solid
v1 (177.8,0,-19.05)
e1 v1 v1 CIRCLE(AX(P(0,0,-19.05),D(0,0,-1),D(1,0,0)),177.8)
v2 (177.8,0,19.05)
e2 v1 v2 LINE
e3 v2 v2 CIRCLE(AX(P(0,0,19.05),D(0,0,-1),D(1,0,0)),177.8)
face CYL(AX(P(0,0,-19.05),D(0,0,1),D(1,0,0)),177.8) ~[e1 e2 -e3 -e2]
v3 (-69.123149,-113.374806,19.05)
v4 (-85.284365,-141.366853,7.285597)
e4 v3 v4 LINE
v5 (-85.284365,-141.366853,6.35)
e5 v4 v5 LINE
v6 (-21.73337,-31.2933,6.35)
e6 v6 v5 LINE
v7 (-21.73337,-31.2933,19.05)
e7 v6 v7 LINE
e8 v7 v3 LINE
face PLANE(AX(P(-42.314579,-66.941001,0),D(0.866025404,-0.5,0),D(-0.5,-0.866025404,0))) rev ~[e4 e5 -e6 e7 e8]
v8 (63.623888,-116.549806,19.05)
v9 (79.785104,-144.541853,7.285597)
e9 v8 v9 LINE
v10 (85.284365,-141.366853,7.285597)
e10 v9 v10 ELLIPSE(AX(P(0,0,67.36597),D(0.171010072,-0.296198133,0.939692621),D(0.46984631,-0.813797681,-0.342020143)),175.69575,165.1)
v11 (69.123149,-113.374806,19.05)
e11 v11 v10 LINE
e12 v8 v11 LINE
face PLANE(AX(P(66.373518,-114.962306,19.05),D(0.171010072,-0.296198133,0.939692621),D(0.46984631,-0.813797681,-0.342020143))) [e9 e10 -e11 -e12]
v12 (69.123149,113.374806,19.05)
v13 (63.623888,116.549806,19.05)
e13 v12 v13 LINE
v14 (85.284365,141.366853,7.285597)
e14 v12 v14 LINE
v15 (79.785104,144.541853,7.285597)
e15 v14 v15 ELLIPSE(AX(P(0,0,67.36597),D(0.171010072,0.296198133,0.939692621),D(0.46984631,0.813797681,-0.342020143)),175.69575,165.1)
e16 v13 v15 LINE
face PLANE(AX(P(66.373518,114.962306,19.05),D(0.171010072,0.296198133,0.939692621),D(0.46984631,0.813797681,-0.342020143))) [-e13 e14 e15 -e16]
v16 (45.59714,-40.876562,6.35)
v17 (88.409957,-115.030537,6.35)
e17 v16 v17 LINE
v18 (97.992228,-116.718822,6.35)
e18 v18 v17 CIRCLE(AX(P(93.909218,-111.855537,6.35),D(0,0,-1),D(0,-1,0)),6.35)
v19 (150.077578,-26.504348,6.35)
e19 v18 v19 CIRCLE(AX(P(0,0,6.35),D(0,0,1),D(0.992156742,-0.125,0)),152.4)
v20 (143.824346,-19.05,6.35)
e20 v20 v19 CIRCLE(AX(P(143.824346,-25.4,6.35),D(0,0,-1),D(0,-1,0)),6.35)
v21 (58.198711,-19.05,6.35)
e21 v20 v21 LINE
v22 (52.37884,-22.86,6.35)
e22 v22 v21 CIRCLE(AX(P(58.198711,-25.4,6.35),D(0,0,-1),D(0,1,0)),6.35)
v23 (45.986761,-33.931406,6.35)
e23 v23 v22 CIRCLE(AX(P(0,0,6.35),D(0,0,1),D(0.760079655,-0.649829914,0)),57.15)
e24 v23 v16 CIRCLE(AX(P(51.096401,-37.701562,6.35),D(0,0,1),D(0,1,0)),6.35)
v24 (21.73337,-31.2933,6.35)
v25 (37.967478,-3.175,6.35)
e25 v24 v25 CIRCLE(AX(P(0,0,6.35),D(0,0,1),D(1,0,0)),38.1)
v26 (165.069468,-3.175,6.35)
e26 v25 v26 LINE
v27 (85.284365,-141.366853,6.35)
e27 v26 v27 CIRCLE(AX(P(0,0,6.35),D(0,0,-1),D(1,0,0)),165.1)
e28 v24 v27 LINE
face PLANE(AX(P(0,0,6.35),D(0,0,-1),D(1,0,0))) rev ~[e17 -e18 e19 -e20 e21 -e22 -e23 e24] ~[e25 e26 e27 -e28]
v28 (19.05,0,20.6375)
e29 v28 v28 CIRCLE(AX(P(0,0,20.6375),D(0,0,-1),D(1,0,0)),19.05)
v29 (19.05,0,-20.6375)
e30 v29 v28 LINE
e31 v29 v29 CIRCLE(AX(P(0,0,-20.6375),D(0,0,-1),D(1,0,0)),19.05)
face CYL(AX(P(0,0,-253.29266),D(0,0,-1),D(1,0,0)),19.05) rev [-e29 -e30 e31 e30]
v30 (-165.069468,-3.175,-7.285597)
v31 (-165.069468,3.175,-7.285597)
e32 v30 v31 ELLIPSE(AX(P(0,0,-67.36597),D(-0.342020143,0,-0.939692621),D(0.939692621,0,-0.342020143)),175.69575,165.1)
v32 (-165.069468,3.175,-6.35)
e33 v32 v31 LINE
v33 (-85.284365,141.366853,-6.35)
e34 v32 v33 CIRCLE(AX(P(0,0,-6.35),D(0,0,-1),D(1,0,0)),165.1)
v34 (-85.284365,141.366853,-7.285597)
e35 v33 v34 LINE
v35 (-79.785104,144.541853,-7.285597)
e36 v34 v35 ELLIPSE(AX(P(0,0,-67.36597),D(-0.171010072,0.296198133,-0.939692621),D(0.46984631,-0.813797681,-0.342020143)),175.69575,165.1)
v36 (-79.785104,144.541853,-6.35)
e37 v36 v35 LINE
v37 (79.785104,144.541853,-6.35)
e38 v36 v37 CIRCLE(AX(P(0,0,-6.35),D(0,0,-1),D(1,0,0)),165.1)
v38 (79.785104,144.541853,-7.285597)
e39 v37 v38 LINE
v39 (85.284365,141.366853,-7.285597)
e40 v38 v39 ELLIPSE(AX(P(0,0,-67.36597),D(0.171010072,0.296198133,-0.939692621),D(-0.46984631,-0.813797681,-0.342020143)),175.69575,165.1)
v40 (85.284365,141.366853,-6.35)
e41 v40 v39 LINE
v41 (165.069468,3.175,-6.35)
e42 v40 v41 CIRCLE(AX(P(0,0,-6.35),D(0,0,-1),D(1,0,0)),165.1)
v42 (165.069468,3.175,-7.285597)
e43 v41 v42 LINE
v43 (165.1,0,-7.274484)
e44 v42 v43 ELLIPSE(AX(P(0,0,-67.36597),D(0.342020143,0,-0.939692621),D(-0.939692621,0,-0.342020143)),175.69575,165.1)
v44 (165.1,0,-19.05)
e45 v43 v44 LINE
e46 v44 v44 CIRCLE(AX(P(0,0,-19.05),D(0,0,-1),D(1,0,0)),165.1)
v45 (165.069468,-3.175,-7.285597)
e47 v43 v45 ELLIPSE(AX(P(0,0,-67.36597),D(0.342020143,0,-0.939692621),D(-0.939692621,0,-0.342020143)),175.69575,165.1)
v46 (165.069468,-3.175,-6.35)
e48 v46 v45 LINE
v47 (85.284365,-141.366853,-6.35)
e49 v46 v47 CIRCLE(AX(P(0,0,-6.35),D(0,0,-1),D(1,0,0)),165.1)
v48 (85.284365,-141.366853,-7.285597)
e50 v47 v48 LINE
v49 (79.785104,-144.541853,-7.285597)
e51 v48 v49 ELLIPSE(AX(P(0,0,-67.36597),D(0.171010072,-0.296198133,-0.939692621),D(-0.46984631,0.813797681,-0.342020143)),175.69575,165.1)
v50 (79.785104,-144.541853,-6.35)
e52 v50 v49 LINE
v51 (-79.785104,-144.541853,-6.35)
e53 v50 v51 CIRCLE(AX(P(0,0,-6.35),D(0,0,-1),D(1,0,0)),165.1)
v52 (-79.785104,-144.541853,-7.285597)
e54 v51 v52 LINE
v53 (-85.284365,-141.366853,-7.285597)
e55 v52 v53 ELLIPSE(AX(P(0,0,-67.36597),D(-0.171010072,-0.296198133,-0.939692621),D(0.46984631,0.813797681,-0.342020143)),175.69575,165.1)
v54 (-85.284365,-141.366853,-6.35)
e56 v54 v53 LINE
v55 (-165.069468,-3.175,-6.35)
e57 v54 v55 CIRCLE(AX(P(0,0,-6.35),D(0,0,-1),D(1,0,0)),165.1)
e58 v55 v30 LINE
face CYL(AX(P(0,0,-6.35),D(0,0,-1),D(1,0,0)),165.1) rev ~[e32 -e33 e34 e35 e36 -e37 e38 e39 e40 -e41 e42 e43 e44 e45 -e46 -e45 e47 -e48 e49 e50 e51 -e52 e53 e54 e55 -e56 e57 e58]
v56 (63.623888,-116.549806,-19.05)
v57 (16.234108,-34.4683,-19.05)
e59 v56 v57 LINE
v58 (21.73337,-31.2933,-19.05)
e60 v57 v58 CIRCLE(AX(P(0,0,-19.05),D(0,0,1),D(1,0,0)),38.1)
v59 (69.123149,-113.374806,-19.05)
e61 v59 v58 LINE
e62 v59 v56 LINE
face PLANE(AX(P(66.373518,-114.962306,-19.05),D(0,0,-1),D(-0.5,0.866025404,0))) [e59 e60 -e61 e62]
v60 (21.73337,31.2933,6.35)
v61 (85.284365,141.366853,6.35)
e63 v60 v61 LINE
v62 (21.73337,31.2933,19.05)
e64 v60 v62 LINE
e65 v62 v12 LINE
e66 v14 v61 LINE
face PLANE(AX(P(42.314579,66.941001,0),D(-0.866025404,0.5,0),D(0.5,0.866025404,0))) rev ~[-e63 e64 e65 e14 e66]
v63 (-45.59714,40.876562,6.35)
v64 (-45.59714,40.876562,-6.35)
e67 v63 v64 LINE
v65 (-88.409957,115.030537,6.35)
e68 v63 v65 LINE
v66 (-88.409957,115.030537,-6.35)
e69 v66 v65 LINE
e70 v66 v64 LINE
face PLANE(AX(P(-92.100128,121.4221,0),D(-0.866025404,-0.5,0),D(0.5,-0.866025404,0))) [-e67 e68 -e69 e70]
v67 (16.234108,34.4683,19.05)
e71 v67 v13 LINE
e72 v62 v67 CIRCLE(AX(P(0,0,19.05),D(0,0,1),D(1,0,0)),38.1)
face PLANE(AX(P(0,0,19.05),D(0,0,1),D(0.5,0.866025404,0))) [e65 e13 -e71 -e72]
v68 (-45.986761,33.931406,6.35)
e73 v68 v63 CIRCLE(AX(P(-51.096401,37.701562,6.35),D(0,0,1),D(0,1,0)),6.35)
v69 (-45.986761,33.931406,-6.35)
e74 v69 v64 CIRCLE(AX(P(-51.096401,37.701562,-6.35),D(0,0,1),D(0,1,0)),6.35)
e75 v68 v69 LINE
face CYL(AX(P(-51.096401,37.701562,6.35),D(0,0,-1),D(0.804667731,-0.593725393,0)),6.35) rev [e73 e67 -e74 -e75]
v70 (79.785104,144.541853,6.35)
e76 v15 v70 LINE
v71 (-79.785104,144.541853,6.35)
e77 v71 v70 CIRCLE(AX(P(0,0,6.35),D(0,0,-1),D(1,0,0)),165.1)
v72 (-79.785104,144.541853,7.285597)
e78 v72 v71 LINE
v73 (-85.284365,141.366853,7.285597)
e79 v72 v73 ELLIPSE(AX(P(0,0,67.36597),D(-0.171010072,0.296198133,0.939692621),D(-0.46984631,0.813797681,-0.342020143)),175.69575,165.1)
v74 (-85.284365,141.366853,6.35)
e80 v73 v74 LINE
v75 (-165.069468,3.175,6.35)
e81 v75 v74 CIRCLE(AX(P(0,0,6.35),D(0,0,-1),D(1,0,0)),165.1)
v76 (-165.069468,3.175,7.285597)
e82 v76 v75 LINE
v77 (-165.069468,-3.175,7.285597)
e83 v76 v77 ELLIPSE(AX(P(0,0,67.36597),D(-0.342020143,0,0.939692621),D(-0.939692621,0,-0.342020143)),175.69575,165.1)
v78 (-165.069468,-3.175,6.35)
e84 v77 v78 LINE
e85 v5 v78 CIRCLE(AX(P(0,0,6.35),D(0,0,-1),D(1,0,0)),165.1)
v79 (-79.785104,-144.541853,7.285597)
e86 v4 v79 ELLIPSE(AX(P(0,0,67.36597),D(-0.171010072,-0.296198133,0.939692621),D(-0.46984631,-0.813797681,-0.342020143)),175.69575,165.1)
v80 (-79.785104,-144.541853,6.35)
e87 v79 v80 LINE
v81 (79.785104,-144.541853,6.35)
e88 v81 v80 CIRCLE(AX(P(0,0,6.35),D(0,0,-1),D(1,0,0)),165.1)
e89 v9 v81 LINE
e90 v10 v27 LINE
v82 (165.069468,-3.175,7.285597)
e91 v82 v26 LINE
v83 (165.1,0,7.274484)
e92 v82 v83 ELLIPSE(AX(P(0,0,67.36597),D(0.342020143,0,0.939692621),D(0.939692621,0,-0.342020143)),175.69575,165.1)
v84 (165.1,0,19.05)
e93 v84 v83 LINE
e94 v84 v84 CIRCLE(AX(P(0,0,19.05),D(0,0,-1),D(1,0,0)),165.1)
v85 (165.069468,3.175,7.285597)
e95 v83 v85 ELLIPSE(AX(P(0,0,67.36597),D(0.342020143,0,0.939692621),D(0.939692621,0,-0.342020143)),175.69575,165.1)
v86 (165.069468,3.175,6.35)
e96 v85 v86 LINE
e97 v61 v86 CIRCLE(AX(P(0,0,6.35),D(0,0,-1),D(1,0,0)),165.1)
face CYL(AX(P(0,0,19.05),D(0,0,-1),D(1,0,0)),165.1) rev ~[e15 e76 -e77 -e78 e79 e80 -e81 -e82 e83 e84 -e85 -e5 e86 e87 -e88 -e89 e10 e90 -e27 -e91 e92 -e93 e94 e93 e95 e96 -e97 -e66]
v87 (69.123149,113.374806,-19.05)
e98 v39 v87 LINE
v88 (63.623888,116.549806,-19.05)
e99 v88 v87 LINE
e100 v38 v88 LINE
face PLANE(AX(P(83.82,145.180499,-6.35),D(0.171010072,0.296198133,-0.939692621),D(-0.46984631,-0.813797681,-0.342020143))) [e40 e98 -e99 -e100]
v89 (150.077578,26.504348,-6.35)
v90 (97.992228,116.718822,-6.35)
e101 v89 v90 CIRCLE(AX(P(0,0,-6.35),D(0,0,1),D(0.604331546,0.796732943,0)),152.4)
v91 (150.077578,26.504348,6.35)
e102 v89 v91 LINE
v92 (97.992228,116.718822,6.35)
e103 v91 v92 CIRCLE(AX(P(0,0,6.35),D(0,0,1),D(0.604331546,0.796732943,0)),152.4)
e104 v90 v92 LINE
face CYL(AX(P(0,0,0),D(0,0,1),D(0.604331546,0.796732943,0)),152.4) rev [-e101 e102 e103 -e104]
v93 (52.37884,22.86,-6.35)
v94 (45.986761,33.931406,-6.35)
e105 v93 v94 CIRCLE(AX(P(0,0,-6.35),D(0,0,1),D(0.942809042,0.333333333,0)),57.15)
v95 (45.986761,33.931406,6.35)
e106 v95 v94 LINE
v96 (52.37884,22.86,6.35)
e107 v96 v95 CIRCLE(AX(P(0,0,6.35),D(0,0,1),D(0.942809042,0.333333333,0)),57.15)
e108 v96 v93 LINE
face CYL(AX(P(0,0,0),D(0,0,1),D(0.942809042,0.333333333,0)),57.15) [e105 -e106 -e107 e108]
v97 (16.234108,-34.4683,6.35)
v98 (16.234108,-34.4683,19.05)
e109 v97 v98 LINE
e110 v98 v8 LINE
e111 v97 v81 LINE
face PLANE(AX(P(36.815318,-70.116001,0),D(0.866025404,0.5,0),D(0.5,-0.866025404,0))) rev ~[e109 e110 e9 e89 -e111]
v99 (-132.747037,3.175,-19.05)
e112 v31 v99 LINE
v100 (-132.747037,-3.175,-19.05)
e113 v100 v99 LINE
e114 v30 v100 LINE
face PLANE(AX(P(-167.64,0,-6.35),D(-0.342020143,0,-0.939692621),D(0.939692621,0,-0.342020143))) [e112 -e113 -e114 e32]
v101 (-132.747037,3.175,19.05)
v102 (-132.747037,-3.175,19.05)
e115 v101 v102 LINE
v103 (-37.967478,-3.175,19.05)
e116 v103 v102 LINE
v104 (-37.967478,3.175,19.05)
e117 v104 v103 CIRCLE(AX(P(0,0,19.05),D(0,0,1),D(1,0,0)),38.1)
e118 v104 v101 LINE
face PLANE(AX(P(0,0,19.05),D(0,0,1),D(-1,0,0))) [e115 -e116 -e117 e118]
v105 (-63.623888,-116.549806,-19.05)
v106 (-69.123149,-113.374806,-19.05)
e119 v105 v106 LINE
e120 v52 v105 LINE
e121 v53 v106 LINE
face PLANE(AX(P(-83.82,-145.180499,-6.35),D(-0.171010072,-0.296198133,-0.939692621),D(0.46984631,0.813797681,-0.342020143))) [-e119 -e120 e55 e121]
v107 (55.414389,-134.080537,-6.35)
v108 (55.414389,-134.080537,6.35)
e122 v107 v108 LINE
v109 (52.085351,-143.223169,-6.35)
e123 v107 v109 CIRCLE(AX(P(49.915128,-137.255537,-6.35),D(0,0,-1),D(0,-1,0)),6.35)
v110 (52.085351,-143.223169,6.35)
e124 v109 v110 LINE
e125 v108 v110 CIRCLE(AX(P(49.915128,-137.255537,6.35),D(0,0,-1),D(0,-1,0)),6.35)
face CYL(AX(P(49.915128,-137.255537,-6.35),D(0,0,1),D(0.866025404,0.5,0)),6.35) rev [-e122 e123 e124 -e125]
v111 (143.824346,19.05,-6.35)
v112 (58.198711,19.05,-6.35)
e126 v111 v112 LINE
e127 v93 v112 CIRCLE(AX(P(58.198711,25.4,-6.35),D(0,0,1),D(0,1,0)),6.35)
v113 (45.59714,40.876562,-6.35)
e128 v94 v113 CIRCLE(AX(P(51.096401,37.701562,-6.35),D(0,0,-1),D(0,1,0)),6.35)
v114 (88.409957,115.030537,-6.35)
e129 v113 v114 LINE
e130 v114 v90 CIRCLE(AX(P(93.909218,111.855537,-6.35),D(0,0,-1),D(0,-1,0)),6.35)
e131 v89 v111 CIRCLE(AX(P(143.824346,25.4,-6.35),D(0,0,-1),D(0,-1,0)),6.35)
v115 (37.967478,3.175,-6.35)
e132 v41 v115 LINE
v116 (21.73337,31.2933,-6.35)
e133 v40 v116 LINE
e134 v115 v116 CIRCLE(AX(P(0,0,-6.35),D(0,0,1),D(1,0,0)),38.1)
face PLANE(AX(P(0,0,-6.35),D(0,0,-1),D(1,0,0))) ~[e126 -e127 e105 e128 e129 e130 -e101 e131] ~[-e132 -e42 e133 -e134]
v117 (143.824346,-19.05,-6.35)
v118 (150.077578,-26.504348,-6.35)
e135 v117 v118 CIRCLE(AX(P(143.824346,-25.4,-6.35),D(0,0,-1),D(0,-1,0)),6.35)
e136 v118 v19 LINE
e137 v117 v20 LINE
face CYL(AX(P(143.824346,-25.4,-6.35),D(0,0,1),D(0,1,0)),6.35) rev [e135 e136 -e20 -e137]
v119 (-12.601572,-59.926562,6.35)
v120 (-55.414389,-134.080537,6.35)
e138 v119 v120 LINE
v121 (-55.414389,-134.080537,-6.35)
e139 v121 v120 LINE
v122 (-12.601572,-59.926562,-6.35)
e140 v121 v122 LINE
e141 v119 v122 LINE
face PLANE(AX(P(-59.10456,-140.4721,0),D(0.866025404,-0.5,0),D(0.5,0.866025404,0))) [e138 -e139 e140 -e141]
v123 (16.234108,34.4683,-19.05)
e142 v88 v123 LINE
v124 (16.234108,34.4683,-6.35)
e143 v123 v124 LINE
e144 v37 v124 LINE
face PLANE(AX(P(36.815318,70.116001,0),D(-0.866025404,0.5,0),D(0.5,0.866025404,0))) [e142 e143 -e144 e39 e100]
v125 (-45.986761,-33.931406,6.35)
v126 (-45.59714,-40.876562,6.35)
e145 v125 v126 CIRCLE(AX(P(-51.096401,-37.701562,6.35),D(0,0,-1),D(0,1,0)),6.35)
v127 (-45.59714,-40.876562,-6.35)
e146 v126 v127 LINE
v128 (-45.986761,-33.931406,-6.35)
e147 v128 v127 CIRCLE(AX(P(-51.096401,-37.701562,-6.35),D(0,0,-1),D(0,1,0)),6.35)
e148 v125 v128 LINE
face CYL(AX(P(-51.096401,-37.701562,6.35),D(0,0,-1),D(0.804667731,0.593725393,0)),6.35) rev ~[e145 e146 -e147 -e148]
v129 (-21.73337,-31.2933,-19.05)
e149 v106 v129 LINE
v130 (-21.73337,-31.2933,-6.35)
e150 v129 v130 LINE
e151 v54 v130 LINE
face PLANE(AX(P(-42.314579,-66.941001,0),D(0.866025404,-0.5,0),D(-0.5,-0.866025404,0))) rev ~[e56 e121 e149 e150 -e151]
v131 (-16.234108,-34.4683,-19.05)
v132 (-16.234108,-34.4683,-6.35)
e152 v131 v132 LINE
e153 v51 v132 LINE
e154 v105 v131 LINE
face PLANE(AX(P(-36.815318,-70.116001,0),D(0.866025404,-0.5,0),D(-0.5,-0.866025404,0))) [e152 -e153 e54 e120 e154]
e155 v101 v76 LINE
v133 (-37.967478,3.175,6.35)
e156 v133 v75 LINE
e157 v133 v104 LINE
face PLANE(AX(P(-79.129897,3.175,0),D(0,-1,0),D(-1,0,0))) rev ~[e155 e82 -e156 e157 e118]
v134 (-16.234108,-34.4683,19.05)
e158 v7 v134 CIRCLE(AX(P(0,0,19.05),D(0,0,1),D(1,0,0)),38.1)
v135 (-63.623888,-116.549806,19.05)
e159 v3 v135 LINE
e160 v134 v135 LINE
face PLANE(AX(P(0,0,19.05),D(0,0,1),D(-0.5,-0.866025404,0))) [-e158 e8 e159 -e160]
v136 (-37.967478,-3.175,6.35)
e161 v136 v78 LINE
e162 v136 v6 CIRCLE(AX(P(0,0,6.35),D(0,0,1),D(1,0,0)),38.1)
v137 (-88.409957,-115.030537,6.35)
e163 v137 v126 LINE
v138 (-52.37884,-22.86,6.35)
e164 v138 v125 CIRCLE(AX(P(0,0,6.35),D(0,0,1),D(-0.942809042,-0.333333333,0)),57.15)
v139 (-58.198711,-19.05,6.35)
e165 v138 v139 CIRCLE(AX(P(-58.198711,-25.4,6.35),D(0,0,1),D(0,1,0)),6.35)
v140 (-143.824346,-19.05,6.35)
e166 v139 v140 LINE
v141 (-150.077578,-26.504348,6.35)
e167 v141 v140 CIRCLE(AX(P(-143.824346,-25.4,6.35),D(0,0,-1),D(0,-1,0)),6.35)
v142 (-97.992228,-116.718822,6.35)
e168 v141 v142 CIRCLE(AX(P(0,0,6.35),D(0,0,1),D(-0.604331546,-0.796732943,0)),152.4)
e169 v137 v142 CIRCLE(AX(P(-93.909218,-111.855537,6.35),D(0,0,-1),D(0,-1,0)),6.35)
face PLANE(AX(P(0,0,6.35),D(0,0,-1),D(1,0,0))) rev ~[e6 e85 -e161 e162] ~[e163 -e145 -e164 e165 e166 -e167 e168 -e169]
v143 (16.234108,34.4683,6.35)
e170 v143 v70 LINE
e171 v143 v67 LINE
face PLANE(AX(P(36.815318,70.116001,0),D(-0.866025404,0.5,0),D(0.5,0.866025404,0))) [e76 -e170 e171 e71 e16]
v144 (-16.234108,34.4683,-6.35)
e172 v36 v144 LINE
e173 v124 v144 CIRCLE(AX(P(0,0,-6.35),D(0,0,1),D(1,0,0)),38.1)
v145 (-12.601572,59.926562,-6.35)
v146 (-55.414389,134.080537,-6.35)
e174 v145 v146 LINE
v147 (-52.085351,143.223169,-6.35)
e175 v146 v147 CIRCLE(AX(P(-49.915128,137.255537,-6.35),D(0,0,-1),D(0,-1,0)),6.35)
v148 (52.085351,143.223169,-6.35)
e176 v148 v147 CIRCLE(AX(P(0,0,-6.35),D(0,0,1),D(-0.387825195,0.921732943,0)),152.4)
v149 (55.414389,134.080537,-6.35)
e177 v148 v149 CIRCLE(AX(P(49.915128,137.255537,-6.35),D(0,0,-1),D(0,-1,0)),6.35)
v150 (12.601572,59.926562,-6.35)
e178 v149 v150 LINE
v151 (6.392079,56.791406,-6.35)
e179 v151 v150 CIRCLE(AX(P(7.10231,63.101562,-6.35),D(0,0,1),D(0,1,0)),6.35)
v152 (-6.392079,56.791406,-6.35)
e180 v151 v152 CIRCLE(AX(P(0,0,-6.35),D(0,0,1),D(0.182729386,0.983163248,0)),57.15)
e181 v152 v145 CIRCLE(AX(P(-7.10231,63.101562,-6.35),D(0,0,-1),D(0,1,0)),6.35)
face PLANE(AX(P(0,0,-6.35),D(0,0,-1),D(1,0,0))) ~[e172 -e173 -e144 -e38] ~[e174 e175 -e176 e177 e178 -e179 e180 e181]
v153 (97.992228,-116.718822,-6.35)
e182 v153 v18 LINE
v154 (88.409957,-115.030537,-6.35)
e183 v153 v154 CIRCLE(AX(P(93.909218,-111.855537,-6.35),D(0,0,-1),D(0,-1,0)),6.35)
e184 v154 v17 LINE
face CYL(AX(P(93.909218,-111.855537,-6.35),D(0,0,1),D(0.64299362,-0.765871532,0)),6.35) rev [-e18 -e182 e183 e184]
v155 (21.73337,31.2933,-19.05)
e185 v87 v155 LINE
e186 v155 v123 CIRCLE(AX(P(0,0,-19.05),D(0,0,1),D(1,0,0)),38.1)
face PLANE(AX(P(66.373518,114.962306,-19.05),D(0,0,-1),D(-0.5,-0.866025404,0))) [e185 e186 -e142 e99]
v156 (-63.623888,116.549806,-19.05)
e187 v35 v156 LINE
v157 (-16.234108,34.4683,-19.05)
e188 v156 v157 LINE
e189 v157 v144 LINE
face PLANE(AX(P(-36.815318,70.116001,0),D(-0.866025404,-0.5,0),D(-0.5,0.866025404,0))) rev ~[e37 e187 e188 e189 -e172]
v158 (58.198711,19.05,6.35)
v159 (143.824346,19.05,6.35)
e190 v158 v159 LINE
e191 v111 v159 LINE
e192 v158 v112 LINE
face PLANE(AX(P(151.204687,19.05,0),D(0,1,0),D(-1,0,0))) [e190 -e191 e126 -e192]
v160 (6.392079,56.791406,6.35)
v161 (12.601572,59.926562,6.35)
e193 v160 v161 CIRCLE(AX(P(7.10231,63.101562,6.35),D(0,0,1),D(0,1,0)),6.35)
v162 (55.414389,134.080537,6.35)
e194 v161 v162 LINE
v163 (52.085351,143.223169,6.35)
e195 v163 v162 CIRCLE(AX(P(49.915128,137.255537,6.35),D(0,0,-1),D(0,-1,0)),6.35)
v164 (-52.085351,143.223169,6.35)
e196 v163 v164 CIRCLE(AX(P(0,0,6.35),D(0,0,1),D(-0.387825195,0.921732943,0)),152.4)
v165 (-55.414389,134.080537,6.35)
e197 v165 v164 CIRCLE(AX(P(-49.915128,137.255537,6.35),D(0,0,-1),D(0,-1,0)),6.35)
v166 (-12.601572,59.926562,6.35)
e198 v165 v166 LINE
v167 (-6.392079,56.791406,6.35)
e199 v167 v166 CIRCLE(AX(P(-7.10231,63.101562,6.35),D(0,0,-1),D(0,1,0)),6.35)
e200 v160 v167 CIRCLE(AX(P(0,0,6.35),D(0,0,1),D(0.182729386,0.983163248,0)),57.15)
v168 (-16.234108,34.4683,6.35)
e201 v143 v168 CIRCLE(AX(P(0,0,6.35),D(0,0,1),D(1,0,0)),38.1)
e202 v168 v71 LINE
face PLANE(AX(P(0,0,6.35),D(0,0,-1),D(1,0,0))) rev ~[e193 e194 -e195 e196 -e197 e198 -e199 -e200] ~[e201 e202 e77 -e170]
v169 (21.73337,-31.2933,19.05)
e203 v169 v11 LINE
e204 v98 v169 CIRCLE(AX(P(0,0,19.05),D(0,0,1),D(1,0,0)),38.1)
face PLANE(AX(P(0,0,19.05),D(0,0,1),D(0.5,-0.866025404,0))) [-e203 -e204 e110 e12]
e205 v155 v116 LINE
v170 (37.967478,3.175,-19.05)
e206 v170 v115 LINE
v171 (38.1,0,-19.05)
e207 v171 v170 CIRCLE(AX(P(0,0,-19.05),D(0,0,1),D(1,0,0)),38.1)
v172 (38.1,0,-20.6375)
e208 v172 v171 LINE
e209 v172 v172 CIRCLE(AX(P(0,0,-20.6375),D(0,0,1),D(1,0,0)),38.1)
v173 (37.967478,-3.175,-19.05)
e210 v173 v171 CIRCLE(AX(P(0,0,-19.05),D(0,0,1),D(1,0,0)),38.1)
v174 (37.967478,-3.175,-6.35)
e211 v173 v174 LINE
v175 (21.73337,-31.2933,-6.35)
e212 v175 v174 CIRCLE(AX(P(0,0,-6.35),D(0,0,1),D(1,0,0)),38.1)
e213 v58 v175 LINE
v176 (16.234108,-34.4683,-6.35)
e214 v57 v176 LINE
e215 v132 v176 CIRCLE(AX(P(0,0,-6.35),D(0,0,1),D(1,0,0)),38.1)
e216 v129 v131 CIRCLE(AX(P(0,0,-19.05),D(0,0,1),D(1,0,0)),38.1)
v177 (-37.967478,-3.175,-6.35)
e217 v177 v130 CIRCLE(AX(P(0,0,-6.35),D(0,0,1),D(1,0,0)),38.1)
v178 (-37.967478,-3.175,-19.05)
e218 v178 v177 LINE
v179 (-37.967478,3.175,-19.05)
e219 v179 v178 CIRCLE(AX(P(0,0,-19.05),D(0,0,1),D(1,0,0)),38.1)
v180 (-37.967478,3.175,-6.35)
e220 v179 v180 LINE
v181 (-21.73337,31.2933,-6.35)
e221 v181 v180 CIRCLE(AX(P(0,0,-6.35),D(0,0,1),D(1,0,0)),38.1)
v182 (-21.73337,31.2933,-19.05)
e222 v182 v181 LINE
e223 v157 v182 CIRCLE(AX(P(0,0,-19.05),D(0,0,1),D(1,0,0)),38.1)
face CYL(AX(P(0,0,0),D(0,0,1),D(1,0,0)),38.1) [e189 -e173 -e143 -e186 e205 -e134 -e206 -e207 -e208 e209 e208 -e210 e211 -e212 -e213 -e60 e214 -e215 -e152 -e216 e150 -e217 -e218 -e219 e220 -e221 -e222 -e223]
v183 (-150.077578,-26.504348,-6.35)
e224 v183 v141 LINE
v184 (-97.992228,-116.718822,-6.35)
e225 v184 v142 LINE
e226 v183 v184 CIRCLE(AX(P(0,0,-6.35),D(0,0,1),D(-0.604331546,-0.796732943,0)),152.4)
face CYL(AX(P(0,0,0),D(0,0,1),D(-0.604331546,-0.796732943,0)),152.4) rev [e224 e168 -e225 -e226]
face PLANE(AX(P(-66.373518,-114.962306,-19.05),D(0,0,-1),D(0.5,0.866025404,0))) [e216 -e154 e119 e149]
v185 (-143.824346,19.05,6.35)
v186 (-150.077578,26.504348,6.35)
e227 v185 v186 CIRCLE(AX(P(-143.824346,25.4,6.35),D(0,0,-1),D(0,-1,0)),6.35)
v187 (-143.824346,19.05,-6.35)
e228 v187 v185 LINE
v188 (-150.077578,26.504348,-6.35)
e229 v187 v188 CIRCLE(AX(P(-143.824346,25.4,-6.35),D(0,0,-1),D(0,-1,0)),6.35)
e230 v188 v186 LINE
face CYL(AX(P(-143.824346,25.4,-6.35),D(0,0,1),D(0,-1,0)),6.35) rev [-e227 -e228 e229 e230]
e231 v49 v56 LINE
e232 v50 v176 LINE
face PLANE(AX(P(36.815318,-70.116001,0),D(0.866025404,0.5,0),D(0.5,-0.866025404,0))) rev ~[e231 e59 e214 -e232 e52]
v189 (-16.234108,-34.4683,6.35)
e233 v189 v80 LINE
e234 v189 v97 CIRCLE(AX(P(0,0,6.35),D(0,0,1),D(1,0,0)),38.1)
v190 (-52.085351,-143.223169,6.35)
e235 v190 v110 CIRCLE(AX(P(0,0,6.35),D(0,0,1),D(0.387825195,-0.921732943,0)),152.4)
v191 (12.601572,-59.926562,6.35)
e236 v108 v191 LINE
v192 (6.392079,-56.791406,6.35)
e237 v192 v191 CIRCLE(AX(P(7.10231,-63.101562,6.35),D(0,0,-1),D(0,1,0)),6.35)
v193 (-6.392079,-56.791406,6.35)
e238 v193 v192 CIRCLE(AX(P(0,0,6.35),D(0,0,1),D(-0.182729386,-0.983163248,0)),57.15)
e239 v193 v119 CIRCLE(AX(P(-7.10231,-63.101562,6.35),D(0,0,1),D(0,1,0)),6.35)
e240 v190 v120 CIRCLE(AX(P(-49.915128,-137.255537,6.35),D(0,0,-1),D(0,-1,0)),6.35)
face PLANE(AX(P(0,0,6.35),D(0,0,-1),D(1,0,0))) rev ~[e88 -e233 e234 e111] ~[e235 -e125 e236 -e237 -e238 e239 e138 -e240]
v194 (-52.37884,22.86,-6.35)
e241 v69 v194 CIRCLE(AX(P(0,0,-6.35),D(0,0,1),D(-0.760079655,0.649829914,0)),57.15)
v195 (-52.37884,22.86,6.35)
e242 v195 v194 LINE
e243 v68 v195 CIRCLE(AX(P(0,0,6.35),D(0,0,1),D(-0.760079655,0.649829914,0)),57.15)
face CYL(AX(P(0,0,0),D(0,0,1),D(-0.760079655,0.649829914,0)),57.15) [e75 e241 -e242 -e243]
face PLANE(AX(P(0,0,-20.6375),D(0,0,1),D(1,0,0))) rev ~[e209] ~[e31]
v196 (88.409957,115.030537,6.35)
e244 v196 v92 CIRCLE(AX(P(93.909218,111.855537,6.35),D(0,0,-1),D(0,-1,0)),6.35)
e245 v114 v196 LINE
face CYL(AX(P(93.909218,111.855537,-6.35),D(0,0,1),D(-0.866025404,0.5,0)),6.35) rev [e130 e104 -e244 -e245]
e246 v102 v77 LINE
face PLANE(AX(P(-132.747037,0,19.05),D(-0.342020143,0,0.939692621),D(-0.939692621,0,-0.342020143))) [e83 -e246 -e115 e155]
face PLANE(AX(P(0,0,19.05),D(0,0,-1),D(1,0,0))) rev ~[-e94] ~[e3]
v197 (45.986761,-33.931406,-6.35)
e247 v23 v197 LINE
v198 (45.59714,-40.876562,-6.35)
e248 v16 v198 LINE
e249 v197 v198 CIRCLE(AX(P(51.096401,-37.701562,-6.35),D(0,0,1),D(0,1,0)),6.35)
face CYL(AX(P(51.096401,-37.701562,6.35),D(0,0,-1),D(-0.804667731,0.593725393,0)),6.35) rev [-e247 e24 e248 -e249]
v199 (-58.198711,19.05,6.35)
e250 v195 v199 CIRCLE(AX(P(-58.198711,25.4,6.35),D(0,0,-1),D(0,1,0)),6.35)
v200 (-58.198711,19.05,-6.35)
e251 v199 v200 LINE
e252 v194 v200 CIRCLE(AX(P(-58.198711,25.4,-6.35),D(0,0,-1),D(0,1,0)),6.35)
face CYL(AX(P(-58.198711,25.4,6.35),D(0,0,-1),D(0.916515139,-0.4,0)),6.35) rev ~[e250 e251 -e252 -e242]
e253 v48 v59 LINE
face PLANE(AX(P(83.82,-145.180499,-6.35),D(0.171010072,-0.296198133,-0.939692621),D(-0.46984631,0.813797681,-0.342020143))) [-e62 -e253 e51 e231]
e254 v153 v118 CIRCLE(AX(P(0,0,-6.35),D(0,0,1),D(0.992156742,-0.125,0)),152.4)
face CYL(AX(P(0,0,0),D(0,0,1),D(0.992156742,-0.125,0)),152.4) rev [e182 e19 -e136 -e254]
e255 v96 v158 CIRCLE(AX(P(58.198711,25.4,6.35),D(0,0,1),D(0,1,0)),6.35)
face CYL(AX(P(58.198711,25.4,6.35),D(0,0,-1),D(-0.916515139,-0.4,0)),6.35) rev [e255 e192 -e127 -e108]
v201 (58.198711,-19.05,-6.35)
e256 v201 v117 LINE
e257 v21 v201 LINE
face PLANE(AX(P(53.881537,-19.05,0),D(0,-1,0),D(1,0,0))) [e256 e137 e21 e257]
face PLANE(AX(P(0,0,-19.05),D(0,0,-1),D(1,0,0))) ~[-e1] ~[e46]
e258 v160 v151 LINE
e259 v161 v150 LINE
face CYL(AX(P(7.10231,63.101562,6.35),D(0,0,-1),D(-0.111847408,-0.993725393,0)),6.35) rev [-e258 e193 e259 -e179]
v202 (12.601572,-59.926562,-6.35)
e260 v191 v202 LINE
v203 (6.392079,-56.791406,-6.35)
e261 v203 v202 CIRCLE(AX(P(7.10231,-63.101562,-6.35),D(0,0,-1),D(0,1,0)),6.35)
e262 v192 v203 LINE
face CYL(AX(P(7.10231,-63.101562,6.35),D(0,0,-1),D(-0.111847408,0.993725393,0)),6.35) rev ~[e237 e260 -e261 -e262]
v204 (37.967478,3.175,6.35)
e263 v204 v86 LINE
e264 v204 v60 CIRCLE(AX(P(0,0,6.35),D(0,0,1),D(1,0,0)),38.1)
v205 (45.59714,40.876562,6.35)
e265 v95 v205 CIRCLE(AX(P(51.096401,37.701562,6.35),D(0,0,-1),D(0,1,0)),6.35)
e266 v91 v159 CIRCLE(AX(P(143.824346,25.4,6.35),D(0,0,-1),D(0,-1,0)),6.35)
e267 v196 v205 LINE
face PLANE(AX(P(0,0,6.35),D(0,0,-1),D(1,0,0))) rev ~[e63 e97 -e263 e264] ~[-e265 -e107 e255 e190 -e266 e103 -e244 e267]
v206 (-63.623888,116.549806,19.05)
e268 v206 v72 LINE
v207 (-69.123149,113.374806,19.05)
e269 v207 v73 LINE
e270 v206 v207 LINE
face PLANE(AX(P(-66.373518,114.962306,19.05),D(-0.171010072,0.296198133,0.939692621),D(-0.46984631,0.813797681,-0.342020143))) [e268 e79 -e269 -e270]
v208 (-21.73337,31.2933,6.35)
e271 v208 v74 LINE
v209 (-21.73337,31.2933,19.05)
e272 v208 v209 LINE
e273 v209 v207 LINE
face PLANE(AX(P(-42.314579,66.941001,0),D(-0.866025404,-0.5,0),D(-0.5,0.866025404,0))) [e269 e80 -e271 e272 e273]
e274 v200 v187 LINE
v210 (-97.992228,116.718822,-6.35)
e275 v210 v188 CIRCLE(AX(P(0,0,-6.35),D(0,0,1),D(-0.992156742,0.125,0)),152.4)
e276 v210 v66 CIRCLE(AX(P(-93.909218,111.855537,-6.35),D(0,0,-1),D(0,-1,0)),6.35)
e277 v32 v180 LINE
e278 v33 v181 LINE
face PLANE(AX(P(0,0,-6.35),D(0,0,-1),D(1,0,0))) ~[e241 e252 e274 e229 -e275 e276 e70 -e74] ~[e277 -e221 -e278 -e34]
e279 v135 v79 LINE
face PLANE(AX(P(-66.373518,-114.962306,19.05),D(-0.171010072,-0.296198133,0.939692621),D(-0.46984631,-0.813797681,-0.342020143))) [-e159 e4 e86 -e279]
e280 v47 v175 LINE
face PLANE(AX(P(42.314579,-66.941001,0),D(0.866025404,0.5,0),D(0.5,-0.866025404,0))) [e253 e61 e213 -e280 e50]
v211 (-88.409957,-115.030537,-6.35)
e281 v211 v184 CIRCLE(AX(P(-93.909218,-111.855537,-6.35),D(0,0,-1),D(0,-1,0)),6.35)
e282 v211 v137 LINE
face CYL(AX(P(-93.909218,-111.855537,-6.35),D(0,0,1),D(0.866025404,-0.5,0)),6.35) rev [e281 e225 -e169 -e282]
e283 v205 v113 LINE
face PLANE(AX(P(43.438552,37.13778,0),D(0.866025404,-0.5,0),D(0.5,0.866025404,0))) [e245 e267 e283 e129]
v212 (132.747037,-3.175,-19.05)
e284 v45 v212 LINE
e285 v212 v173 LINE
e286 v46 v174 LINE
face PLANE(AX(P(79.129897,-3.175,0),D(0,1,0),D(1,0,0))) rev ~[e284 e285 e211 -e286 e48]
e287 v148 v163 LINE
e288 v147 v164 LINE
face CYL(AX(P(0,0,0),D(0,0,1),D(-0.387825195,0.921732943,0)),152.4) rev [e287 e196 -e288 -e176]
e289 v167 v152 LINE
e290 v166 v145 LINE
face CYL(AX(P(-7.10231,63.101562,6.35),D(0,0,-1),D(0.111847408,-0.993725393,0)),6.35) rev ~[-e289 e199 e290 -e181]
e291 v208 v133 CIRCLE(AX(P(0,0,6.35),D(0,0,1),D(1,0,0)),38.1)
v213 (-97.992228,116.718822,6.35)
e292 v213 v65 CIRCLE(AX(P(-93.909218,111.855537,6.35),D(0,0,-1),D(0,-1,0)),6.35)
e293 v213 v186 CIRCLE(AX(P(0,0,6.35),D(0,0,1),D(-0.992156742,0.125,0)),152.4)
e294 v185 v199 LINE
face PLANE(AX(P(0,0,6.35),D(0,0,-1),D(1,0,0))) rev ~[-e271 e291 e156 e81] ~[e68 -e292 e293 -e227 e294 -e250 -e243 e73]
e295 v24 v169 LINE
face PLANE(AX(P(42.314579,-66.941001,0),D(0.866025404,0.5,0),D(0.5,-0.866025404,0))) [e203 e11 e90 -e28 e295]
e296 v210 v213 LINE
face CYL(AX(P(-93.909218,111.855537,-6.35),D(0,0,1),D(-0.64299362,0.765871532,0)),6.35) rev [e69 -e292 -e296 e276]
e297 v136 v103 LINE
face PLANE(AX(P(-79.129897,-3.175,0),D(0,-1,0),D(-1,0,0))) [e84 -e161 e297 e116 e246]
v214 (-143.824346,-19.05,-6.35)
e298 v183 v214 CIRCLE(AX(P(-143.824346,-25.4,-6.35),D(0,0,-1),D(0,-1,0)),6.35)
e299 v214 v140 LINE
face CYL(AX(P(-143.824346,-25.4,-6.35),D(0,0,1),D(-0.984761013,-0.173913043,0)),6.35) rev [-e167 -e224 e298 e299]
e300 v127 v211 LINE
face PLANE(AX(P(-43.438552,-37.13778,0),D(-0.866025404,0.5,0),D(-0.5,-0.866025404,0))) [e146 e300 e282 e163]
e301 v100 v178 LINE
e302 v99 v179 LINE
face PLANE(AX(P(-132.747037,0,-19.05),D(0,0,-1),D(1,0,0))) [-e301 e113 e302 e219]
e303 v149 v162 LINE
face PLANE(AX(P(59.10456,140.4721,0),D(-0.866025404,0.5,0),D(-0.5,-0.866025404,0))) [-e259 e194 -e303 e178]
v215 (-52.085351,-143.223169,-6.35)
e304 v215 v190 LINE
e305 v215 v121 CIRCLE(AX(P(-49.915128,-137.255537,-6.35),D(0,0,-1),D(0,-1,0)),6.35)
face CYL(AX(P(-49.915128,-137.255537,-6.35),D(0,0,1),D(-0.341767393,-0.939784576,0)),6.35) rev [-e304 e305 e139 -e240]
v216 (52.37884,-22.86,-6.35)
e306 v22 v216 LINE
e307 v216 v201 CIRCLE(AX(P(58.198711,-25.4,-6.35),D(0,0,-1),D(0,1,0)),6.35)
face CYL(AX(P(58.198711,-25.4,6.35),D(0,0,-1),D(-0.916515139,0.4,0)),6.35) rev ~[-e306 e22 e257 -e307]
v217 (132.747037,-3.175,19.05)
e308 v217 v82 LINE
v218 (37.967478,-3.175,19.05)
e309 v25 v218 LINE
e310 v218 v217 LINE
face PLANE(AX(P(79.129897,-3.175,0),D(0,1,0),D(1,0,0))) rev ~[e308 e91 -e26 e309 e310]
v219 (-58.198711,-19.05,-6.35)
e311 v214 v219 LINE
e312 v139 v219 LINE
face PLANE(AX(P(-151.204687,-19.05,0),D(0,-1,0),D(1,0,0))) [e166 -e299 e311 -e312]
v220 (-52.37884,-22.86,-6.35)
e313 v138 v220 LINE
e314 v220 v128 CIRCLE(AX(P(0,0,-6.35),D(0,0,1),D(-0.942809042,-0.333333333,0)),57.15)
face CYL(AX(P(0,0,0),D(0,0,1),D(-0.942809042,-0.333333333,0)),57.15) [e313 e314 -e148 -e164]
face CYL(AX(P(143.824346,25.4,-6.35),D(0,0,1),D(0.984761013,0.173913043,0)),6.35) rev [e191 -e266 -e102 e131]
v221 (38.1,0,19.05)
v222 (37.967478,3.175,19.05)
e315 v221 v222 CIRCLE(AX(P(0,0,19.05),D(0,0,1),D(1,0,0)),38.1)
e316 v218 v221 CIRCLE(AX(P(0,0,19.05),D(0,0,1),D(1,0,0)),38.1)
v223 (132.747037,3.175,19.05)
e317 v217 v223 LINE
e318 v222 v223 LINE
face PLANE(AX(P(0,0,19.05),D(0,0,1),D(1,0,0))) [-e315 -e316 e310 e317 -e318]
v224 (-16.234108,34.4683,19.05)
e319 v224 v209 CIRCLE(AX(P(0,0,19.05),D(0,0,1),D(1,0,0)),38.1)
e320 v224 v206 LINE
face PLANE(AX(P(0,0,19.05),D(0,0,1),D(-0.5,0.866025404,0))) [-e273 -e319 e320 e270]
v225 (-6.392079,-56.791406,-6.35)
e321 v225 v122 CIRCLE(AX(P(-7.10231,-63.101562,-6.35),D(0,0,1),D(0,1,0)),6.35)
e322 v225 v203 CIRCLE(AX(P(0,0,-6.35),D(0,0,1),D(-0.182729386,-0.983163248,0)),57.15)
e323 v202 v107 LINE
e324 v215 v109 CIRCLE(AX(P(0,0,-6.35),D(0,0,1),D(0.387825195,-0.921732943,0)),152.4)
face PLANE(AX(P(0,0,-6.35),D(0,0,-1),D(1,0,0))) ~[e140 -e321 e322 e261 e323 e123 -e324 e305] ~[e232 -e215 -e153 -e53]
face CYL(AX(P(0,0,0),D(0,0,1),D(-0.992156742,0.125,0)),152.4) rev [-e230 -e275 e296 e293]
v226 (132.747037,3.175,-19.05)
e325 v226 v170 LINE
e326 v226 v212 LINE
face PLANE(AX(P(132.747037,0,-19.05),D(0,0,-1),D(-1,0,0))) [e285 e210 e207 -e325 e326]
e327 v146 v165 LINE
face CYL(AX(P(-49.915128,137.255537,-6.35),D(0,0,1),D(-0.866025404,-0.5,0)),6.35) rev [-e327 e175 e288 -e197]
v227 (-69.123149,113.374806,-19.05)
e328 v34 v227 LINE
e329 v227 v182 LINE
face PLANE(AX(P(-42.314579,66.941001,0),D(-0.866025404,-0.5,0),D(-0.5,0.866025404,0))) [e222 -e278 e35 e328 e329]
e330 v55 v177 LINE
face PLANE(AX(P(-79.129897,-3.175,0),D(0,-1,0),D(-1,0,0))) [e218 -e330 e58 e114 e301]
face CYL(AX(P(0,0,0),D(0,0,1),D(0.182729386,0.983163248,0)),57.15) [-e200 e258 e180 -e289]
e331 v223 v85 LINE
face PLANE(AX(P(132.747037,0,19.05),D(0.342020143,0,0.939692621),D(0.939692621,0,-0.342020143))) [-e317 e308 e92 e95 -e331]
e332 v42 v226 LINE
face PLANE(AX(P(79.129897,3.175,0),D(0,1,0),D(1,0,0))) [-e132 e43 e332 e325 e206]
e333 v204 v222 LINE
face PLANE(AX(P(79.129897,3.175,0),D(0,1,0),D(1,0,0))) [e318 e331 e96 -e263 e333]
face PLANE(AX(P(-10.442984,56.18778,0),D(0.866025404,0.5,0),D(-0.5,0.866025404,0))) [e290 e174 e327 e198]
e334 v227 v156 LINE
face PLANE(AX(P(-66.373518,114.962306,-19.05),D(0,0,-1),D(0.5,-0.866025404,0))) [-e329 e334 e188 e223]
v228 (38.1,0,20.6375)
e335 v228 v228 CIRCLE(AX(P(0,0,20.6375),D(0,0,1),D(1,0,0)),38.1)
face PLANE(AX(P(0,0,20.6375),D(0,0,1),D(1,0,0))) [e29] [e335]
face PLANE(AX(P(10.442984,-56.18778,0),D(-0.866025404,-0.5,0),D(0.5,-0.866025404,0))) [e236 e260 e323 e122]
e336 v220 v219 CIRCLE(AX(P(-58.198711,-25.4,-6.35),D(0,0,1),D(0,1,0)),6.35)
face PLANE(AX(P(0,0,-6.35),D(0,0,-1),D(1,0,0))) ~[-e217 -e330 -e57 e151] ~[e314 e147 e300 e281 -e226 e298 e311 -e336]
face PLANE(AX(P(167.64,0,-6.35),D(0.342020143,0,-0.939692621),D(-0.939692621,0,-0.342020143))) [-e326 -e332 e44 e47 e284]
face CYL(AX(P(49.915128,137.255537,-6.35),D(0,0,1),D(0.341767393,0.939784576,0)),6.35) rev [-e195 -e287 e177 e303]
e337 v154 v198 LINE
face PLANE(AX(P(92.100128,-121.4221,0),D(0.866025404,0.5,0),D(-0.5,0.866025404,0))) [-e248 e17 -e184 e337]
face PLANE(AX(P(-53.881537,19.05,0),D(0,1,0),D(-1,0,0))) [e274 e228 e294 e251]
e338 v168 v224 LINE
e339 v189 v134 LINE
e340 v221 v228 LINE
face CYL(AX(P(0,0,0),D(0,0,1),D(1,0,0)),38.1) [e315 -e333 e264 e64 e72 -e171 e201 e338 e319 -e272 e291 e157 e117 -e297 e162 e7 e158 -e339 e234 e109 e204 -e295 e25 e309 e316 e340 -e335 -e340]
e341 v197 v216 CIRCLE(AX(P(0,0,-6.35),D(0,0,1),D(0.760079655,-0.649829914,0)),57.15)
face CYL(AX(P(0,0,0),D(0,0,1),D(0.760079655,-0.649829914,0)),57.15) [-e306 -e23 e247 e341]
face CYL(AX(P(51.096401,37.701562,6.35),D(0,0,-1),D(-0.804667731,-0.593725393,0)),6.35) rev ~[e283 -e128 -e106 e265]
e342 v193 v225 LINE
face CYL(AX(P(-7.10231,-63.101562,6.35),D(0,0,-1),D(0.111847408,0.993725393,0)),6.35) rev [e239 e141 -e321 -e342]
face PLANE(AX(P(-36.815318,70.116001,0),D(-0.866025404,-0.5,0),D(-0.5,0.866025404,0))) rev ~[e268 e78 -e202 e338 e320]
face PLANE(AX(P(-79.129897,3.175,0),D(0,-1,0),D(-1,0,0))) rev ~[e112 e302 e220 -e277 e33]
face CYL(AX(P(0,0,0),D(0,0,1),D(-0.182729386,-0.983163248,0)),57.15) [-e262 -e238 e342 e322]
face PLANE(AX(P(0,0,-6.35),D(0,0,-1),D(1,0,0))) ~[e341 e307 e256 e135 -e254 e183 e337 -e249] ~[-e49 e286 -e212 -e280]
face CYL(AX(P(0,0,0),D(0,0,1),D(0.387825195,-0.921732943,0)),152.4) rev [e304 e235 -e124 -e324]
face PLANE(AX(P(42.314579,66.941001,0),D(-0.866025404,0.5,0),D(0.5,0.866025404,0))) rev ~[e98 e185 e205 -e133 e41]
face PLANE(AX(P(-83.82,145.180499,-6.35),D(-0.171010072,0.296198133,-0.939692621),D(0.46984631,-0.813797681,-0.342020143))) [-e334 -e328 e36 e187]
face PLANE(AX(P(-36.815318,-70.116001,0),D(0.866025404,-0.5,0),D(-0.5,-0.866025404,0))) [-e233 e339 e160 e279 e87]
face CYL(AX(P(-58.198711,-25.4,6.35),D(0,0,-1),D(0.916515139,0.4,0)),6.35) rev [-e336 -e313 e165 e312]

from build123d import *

# Parameters (mm, degrees)
SKETCH1_R                = 38.1
CENTERHUB_DEPTH          = 20.6375
RIB_DEPTH                = 3.175
LIGHTENING_HOLE_DEPTH    = 253.292660231
FILLET1_R                = 6.35
CIRPATTERN1_COUNT        = 6
FILLET1_OF_CIRPATTERN1_R = 6.35
THRU_HOLE_DEPTH          = 253.292660231
THRU_HOLE_DEPTH_BACK     = 253.292660231
SKETCH5_R                = 19.05


with BuildPart() as part:
    # Sketch1 → CenterHub (new, symmetric)
    with BuildSketch(Plane.XY):
        Circle(SKETCH1_R)
    extrude(amount=CENTERHUB_DEPTH, both=True)

    # Sketch2 → Rim and Web (revolve)
    with BuildSketch(Plane(origin=(0, 0, 0), x_dir=(0, 0, -1), z_dir=(1, 0, 0)), mode=Mode.PRIVATE) as rim_and_web_sk:
        Polygon((-6.35, 0), (6.35, 0), (6.35, 165.1), (19.05, 165.1), (19.05, 177.8), (-19.05, 177.8), (-19.05, 165.1), (-6.35, 165.1), align=None)
    revolve(rim_and_web_sk.sketch.rotate(Axis((0, 0, 0), (0, 0, -1)), 90), axis=Axis((0, 0, 0), (0, 0, -1)))

    # Sketch3 → Rib (add, symmetric)
    with BuildSketch(Plane(origin=(0, 0, 0), x_dir=(1, 0, 0), z_dir=(0, 1, 0))):
        Polygon((0, -19.05), (132.747036773, -19.05), (167.64, -6.35), (167.64, 6.35), (132.747036773, 19.05), (0, 19.05), align=None)
    rib = extrude(amount=RIB_DEPTH, both=True)

    # Sketch4 → Lightening hole (cut, symmetric)
    with BuildSketch(Plane.XY):
        with BuildLine():
            Line((92.100127656, -121.422100483), (43.438552305, -37.1377796))
            ThreePointArc((43.438552305, -37.1377796), (49.493351826, -28.575), (53.881536726, -19.05))
            Line((53.881536726, -19.05), (151.204687427, -19.05))
            ThreePointArc((151.204687427, -19.05), (131.982271537, -76.2), (92.100127656, -121.422100483))
        make_face()
    lightening_hole = extrude(amount=LIGHTENING_HOLE_DEPTH, both=True, mode=Mode.SUBTRACT)

    # Fillet1
    fillet1_edges = [part.edges().sort_by_distance(p)[0] for p in [
        (151.204687427, -19.05, 0),
        (92.100127656, -121.422100483, 0),
        (43.438552305, -37.1377796, 0),
        (53.881536726, -19.05, 0),
    ]]
    fillet(fillet1_edges, radius=FILLET1_R)

    # CirPattern1: Rib, Lightening hole ×6 about axis
    cirpattern1_axis = Axis((0, 0, 0), (0, 0, 1))
    add([rib.rotate(cirpattern1_axis, i * 360 / CIRPATTERN1_COUNT) for i in range(1, CIRPATTERN1_COUNT)])
    add([lightening_hole.rotate(cirpattern1_axis, i * 360 / CIRPATTERN1_COUNT) for i in range(1, CIRPATTERN1_COUNT)], mode=Mode.SUBTRACT)

    # Fillet1 of CirPattern1
    fillet1_of_cirpattern1_edges = [part.edges().sort_by_distance(p)[0] for p in [
        (92.100127656, 121.422100483, 0),
        (151.204687427, 19.05, 0),
        (53.881536726, 19.05, 0),
        (43.438552305, 37.1377796, 0),
        (-59.104559772, 140.472100483, 0),
        (59.104559772, 140.472100483, 0),
        (10.442984421, 56.1877796, 0),
        (-10.442984421, 56.1877796, 0),
        (-151.204687427, 19.05, 0),
        (-92.100127656, 121.422100483, 0),
        (-43.438552305, 37.1377796, 0),
        (-53.881536726, 19.05, 0),
        (-92.100127656, -121.422100483, 0),
        (-151.204687427, -19.05, 0),
        (-53.881536726, -19.05, 0),
        (-43.438552305, -37.1377796, 0),
        (59.104559772, -140.472100483, 0),
        (-59.104559772, -140.472100483, 0),
        (-10.442984421, -56.1877796, 0),
        (10.442984421, -56.1877796, 0),
    ]]
    fillet(fillet1_of_cirpattern1_edges, radius=FILLET1_OF_CIRPATTERN1_R)

    # Sketch5 → Thru hole (cut, two sides: drawn at the far end of the back side and taken through both)
    with BuildSketch(Plane.XY.offset(-THRU_HOLE_DEPTH_BACK)):
        Circle(SKETCH5_R)
    extrude(amount=THRU_HOLE_DEPTH + THRU_HOLE_DEPTH_BACK, mode=Mode.SUBTRACT)


solid = part.part
